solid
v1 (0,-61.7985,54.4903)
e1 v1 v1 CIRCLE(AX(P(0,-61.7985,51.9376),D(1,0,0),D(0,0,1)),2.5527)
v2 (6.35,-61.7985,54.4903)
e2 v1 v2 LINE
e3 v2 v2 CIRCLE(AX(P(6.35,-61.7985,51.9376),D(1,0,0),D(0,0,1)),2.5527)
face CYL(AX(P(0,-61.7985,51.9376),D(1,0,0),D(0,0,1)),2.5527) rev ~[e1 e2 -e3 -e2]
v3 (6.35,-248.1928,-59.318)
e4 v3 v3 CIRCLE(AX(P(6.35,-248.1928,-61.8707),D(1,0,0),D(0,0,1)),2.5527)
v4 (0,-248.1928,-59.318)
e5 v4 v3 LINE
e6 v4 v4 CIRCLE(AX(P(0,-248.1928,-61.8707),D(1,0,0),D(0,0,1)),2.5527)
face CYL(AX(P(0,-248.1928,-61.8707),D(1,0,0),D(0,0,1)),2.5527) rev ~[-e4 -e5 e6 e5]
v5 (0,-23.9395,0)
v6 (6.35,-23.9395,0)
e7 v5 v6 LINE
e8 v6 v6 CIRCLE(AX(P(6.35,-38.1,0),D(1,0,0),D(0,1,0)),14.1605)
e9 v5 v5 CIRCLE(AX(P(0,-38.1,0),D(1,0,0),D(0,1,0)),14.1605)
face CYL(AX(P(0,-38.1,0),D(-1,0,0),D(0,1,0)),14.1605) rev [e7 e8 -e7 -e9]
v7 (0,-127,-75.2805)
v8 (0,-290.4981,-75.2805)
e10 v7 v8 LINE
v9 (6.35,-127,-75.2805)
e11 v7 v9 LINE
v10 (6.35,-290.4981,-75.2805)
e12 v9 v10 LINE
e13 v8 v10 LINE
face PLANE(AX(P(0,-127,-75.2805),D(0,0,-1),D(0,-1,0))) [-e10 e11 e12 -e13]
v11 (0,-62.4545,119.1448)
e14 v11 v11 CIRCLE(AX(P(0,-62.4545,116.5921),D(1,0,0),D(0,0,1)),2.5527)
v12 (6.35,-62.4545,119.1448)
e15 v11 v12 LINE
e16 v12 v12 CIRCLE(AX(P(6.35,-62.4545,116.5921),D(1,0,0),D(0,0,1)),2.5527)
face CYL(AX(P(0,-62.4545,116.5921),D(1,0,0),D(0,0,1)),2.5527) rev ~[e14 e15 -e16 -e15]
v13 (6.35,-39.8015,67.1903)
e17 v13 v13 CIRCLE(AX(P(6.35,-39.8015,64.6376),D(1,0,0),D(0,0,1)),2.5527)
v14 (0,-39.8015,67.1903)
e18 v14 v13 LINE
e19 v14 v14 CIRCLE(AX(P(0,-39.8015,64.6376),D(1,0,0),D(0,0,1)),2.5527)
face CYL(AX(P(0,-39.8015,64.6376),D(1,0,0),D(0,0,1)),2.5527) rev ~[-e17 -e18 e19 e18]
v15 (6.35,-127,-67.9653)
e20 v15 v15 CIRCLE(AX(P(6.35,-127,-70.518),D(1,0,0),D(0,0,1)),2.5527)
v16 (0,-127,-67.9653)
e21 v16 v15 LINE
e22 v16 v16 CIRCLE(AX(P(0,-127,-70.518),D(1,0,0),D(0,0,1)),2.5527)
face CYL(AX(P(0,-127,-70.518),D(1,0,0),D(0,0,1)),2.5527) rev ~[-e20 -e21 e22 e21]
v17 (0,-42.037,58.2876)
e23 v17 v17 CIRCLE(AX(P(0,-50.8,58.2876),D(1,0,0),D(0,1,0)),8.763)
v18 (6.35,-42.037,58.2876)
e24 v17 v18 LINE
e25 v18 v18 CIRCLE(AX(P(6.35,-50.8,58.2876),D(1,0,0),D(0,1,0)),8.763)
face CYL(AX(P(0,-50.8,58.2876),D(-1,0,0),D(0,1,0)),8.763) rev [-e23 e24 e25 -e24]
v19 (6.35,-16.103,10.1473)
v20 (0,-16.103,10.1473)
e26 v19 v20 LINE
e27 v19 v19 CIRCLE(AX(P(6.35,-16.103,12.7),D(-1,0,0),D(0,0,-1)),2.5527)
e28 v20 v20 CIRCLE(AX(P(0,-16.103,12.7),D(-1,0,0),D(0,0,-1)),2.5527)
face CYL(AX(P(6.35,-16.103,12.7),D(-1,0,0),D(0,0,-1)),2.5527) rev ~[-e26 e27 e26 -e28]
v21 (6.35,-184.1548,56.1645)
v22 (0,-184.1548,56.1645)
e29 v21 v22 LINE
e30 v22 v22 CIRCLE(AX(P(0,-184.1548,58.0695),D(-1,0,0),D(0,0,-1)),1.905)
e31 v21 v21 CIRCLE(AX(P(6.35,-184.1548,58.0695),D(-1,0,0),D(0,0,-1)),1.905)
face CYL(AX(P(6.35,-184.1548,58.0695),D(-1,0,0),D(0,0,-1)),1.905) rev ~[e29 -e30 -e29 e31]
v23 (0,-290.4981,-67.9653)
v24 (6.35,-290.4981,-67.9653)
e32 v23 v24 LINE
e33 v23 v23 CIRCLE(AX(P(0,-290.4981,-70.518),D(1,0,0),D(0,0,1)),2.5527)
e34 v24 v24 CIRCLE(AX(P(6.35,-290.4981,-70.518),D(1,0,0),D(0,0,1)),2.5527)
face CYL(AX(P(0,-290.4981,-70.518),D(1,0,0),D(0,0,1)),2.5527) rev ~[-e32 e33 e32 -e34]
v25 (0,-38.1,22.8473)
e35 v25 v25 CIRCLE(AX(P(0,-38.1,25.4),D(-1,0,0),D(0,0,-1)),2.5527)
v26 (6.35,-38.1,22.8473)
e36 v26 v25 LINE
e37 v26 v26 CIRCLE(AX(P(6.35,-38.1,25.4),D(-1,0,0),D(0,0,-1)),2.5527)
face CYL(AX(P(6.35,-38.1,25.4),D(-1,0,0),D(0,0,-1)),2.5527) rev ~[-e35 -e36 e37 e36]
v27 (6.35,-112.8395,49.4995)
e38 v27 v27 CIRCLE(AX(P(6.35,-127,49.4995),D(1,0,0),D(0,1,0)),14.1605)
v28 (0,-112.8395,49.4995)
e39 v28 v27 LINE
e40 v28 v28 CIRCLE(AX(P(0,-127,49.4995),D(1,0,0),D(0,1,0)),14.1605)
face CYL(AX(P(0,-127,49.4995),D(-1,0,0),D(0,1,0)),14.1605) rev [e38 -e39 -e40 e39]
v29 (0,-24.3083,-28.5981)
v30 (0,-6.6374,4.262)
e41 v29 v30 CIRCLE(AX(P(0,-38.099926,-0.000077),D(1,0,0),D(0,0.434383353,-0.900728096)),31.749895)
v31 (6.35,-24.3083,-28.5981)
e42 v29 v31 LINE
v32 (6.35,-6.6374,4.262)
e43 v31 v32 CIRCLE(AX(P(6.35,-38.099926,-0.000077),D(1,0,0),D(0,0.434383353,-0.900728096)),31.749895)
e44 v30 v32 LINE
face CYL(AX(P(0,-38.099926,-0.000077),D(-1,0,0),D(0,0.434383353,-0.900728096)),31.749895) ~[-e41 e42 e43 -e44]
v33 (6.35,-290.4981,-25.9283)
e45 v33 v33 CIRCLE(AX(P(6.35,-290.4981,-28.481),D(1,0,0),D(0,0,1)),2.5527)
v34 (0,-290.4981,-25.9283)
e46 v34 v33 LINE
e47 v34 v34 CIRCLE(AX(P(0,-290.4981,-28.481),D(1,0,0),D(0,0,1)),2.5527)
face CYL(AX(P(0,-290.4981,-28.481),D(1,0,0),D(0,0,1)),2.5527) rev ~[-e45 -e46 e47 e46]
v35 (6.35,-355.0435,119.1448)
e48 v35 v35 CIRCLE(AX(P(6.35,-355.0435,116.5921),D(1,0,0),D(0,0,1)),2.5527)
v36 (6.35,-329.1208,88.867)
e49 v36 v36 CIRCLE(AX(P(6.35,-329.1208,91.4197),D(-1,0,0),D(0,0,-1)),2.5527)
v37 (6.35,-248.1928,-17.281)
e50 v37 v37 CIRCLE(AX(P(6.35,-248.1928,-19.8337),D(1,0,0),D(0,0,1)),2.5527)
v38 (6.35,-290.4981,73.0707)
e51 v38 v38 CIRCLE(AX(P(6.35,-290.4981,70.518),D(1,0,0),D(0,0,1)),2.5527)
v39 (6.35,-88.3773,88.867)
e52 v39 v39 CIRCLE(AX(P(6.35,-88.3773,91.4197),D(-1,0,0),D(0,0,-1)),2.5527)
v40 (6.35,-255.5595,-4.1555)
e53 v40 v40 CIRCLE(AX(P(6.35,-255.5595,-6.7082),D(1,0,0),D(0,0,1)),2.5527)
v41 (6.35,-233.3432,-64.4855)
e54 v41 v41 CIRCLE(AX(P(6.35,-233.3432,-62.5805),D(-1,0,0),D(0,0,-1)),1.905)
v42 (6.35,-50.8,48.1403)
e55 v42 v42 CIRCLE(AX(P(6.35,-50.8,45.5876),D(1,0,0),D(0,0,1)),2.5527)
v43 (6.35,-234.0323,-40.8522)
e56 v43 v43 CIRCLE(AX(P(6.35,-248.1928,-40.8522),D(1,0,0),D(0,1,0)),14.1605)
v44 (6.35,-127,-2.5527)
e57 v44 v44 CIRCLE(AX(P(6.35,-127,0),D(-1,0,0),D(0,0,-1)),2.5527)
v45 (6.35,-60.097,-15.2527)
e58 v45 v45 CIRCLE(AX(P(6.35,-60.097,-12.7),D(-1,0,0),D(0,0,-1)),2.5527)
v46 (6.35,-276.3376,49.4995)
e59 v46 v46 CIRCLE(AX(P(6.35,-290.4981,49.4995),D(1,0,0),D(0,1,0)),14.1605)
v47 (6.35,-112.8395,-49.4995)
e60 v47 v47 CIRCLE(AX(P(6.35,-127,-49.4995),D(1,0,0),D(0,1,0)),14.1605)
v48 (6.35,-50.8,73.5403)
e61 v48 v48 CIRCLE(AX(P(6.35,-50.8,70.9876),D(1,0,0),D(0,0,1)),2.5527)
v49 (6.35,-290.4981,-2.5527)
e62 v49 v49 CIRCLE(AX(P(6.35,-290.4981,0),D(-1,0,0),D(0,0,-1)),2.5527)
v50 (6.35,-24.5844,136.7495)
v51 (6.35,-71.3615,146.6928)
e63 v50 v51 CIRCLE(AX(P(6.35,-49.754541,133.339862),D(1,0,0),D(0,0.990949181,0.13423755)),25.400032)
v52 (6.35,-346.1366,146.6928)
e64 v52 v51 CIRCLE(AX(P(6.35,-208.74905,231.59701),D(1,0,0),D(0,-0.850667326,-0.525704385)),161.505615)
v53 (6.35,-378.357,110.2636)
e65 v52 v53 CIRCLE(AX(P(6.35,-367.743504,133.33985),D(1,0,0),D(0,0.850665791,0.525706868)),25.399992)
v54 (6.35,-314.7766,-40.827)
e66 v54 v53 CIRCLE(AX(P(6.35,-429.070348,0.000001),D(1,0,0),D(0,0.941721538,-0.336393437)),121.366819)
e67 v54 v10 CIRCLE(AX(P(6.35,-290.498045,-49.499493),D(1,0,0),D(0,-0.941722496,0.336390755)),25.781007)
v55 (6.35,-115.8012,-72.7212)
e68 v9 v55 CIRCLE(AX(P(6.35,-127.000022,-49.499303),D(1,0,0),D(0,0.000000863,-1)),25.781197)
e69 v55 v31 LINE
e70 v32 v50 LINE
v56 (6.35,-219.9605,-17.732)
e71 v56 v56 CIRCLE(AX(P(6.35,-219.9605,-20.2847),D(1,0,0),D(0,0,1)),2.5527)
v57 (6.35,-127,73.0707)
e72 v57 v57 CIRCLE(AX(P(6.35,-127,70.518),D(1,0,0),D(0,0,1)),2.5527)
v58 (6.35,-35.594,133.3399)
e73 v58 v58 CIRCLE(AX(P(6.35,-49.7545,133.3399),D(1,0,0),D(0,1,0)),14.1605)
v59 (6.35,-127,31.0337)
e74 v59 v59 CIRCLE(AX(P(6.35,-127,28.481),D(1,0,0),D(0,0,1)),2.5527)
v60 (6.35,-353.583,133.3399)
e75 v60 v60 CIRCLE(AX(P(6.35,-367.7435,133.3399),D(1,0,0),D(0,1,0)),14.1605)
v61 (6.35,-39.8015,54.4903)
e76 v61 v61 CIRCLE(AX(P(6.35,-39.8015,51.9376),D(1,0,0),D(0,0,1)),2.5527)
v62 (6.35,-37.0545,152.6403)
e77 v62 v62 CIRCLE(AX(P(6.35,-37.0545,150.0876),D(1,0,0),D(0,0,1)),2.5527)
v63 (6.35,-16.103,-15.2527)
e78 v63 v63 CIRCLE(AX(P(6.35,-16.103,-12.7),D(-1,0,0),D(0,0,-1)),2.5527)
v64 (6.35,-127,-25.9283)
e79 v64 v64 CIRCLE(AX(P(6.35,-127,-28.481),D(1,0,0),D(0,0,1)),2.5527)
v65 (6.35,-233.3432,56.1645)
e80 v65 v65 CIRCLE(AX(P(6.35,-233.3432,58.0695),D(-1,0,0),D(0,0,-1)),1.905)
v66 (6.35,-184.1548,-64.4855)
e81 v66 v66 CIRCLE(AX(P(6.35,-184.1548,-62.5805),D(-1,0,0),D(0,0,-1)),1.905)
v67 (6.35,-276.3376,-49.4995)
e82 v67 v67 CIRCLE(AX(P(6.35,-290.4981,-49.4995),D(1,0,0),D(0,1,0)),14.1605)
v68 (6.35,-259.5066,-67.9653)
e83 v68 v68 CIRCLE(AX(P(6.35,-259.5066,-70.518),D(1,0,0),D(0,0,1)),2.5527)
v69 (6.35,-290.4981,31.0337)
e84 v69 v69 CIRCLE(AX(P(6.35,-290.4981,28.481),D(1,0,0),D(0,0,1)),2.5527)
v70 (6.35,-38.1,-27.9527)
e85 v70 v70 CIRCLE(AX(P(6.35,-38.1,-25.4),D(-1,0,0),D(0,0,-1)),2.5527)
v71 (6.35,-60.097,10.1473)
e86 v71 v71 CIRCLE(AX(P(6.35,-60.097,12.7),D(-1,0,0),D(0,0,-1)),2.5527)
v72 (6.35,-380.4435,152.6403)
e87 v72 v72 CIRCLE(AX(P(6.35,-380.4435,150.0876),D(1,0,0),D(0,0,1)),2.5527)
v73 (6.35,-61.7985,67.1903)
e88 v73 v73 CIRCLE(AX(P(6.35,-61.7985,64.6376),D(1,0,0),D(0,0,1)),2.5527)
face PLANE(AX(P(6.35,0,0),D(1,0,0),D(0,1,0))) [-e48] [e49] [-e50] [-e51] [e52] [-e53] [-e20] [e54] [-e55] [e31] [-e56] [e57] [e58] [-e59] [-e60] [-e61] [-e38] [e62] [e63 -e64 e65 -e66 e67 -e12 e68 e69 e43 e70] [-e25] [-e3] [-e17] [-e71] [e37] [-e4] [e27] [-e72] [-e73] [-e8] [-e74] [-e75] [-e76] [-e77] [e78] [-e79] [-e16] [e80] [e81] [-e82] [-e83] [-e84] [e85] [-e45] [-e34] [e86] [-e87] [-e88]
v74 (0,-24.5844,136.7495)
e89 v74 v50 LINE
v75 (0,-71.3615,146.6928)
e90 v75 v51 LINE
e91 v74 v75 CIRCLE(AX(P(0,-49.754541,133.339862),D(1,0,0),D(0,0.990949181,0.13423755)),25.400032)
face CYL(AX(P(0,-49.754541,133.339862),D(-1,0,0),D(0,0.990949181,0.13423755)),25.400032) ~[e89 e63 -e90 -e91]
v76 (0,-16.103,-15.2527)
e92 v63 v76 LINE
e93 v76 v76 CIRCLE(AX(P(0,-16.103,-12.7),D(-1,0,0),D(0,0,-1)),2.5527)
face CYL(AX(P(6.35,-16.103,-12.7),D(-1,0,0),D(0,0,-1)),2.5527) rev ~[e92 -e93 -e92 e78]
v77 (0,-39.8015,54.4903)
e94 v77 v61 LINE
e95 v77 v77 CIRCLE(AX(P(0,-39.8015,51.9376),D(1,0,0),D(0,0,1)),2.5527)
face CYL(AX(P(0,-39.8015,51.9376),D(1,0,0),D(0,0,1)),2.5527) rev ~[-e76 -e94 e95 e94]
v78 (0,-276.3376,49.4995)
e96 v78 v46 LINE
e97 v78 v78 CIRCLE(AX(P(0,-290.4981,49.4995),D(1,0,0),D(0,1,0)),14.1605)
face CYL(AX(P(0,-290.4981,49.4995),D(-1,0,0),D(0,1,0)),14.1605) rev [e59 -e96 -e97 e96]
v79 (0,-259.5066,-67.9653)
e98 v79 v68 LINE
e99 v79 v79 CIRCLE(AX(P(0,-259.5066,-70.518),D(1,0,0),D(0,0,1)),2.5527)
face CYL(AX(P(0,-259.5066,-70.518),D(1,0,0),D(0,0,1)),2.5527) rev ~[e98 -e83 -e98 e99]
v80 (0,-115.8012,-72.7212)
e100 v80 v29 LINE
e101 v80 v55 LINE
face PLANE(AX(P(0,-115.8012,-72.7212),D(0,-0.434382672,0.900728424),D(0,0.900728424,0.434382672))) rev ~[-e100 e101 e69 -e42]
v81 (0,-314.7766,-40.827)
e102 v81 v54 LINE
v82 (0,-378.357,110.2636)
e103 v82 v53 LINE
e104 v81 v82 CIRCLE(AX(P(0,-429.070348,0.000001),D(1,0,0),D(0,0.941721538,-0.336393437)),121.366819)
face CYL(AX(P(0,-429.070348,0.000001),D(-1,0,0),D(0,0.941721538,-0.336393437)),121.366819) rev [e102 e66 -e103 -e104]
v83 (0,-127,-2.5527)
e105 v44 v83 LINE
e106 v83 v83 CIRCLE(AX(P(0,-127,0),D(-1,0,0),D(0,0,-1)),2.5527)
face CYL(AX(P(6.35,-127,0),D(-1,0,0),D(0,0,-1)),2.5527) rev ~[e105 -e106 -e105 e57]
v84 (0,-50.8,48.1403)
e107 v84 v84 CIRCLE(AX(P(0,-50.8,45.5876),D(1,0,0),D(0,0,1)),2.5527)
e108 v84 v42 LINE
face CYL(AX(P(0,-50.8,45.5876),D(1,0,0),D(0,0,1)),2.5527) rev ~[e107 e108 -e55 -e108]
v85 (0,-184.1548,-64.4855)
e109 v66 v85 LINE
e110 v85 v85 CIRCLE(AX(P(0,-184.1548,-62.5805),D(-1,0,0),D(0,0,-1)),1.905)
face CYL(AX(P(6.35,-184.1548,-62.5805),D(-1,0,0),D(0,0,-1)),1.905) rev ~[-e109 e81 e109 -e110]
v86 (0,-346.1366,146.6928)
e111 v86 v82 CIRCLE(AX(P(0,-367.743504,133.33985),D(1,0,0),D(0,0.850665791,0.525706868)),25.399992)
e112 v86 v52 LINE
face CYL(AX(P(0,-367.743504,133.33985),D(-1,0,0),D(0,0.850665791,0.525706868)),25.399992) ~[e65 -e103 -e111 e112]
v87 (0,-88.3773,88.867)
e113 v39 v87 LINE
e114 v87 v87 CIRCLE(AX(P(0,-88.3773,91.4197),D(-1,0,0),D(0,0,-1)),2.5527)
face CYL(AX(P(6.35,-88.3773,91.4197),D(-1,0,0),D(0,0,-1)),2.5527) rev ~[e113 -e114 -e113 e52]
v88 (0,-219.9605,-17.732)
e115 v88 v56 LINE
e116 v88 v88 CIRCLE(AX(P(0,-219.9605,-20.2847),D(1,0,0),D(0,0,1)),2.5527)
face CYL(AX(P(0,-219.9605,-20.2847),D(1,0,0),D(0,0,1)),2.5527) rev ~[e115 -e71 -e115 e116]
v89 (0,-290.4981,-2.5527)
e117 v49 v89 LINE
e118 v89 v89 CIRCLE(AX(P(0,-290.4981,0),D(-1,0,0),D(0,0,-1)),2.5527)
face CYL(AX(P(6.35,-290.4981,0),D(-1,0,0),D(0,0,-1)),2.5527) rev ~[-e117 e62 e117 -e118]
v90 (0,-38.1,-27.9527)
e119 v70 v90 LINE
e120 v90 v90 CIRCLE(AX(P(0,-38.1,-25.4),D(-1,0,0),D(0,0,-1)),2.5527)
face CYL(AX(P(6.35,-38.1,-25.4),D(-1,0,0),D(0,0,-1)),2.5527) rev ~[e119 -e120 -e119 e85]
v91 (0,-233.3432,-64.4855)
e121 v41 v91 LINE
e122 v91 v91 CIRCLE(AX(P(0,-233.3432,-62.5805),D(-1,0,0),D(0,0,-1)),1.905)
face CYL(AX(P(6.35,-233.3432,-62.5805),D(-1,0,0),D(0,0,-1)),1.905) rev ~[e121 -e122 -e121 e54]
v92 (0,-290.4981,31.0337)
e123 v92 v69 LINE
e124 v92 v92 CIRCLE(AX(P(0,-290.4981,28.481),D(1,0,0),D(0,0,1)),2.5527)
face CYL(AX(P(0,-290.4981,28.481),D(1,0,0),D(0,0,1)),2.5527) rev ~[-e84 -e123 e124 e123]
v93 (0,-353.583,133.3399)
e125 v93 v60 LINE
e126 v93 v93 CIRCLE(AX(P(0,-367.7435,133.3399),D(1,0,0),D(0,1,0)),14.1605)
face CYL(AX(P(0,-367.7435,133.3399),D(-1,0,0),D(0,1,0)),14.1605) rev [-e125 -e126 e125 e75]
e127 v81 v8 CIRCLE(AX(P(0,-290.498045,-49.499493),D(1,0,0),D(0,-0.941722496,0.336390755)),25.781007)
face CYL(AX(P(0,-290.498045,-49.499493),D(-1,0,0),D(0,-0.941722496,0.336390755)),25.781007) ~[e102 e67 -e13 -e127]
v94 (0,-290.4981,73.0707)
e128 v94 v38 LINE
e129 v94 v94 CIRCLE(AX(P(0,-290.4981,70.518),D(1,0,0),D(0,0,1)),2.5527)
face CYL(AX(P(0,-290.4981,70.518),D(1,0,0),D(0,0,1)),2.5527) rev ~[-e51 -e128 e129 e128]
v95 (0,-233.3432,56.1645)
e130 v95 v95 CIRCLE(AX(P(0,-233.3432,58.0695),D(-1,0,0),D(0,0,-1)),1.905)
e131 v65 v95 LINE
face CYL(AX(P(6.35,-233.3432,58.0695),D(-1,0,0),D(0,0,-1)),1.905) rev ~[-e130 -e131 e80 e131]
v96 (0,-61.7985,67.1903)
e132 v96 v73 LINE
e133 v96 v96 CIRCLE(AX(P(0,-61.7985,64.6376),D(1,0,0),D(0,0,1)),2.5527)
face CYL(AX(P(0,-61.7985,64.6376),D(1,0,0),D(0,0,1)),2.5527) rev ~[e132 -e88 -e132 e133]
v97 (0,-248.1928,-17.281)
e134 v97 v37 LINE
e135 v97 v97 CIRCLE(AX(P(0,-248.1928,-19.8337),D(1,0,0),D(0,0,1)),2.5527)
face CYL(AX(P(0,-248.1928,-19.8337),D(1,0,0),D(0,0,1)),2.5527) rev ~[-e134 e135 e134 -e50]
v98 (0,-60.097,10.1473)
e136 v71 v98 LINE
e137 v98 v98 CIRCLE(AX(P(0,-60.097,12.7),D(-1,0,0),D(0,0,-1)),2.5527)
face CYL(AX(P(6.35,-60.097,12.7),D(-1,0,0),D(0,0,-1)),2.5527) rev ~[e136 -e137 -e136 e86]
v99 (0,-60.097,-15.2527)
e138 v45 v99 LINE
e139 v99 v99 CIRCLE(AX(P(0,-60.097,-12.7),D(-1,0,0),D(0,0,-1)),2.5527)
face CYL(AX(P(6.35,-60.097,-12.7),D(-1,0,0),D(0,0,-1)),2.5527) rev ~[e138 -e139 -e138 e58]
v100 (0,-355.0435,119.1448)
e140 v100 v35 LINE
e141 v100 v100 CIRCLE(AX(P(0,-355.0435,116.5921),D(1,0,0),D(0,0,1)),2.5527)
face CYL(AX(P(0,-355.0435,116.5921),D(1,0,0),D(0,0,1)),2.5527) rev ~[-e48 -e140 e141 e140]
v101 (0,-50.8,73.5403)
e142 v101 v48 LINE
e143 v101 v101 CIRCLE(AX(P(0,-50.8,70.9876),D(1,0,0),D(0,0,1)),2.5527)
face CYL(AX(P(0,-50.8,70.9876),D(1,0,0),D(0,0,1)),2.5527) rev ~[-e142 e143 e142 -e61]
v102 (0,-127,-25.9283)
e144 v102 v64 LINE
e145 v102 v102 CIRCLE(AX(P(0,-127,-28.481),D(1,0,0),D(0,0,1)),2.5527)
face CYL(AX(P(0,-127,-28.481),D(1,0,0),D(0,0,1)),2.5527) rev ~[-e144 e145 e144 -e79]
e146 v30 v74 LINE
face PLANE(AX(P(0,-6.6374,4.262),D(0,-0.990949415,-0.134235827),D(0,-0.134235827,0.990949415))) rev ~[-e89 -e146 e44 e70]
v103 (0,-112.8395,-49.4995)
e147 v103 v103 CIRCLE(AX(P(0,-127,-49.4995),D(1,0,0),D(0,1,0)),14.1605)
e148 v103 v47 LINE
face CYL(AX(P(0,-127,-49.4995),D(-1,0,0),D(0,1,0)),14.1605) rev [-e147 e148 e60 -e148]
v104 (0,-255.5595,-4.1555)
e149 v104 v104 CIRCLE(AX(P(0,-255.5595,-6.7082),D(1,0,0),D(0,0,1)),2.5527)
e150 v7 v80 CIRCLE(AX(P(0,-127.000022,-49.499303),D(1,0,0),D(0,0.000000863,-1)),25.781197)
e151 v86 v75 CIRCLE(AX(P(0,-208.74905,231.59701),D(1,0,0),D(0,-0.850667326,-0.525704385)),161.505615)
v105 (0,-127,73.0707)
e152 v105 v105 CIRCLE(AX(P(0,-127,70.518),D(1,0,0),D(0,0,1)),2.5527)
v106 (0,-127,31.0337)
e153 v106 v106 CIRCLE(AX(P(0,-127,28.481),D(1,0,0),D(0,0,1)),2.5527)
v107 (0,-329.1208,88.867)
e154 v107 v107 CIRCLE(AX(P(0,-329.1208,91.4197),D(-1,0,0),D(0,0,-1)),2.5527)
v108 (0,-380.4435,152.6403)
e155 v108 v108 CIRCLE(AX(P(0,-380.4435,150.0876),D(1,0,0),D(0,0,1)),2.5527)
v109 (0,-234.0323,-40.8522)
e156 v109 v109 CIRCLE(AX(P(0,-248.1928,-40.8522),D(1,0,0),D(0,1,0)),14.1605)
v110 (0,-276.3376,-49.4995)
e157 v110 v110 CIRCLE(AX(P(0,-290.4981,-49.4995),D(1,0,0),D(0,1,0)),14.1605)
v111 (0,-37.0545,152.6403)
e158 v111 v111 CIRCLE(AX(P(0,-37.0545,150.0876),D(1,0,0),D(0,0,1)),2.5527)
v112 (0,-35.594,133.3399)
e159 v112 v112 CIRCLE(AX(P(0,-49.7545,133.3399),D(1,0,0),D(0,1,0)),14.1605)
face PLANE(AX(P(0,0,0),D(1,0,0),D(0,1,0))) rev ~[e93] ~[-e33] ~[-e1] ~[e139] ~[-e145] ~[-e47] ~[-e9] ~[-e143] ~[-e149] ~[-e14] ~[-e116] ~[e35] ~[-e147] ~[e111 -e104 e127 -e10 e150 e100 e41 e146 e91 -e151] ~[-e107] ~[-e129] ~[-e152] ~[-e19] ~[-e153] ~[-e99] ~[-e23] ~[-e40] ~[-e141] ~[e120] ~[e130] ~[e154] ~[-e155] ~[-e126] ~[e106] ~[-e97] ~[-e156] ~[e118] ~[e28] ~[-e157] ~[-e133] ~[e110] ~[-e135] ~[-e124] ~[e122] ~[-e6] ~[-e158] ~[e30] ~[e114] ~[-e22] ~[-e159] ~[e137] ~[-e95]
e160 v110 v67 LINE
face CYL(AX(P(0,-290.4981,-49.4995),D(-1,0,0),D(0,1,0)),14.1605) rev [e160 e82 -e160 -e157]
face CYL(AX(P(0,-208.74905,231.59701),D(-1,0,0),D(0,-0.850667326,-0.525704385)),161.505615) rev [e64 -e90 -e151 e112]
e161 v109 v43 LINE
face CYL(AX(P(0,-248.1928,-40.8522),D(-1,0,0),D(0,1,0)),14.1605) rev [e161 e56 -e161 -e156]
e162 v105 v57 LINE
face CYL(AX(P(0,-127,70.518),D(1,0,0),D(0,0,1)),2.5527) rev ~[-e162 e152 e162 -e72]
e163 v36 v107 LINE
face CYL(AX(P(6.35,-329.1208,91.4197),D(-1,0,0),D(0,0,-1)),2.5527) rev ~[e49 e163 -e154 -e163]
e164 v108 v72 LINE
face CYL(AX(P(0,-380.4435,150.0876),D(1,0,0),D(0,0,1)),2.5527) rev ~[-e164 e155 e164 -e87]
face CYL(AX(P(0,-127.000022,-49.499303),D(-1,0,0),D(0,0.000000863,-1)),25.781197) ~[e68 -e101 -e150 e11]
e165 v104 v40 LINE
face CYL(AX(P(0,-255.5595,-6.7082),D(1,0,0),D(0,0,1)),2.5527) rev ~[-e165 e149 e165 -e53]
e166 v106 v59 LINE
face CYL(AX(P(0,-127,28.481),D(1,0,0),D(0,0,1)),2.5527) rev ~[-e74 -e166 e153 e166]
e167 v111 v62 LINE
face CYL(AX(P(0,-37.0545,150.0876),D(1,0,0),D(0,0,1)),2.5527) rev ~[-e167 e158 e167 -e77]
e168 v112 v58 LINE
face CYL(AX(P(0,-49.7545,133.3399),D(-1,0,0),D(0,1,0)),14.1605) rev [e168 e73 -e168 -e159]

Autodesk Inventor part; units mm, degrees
ref_plane "YZ Plane" through (0, 0, 0) normal (1, 0, 0) x (0, 1, 0)
ref_plane "XZ Plane" through (0, 0, 0) normal (0, 1, 0) x (-1, 0, 0)
ref_plane "XY Plane" through (0, 0, 0) normal (0, 0, 1) x (1, 0, 0)
sketch "Sketch1" plane through (0, 0, 0) normal (1, 0, 0) x (0, 1, 0)
  line L0 (-12.7, 25.4) -> (12.7, 25.4) construction
  line L1 (12.7, 25.4) -> (12.7, -25.4) construction
  line L2 (12.7, -25.4) -> (-12.7, -25.4) construction
  line L3 (-12.7, -25.4) -> (-12.7, 25.4) construction
  line L4 (-12.7, 25.4) -> (12.7, -25.4) construction
  line L5 (12.7, 25.4) -> (-12.7, -25.4) construction
  circle A0 centre (-127, -49.4995) radius 38.1 construction
  circle A1 centre (-290.4981, -49.4995) radius 38.1 construction
  circle A2 centre (-127, 49.4995) radius 38.1 construction
  circle A3 centre (-290.4981, 49.4995) radius 38.1 construction
  line L6 (-127, -49.4995) -> (-127, 49.4995) construction
  line L7 (-290.4981, -49.4995) -> (-290.4981, 49.4995) construction
  line L8 (-161.925, -152.4) -> (-255.5731, -152.4) construction
  line L9 (-255.5731, -152.4) -> (-255.5731, 152.4) construction
  line L10 (-255.5731, 152.4) -> (-161.925, 152.4) construction
  line L11 (-161.925, 152.4) -> (-161.925, -152.4) construction
  line L12 (-161.925, -152.4) -> (-255.5731, 152.4) construction
  line L13 (-255.5731, -152.4) -> (-161.925, 152.4) construction
  circle A4 centre (-127, -49.4995) radius 34.925 construction
  circle A5 centre (-290.4981, -49.4995) radius 34.925 construction
  circle A6 centre (-208.749, 279.4) radius 190.5 construction
  circle A7 centre (-49.7545, 133.3399) radius 25.4 construction
  circle A8 centre (-367.7435, 133.3399) radius 25.4 construction
  circle A9 centre (-653.2508, -157.862) radius 53.975 construction
  line L14 (-596.1008, -277.7111) -> (-621.5008, -277.7111) construction
  line L15 (-621.5008, -277.7111) -> (-621.5008, -201.5111) construction
  line L16 (-621.5008, -201.5111) -> (-596.1008, -201.5111) construction
  line L17 (-596.1008, -201.5111) -> (-596.1008, -277.7111) construction
  line L18 (-596.1008, -277.7111) -> (-621.5008, -201.5111) construction
  line L19 (-621.5008, -277.7111) -> (-596.1008, -201.5111) construction
  line L20 (-685.0008, -277.7111) -> (-710.4008, -277.7111) construction
  line L21 (-710.4008, -277.7111) -> (-710.4008, -201.5111) construction
  line L22 (-710.4008, -201.5111) -> (-685.0008, -201.5111) construction
  line L23 (-685.0008, -201.5111) -> (-685.0008, -277.7111) construction
  line L24 (-685.0008, -277.7111) -> (-710.4008, -201.5111) construction
  line L25 (-710.4008, -277.7111) -> (-685.0008, -201.5111) construction
  line L26 (-498.4346, -157.862) -> (-808.067, -157.862) construction
  point P0 (0, 0)
  point P1 (-127, 0)
  point P2 (-290.4981, 0)
  point P3 (-208.749, 0)
  point P4 (-608.8008, -239.6111)
  point P5 (-697.7008, -239.6111)
  dimension "d0" = 25.4
  dimension "d1" = 50.8
  dimension "d2" = 76.2
  dimension "d4" = 98.999
  dimension "d5" = 93.6481
  dimension "d6" = 304.8
  dimension "d7" = 3.175
  dimension "d8" = 3.175
  dimension "d9" = 127
  dimension "d10" = 381
  dimension "d11" = 50.8
  dimension "d12" = 50.8
  dimension "d13" = 114.0003
  dimension "d14" = 279.4
  dimension "d35" = 49.4995
  dimension "d68" = 107.95
  dimension "d69" = 25.4
  dimension "d70" = 76.2
  dimension "d71" = 63.5
  dimension "d72" = 81.749
  dimension "d73" = 163.4981
sketch "Sketch2" plane through (0, 0, 0) normal (1, 0, 0) x (0, 1, 0)
  circle A0 centre (-127, -49.4995) radius 38.1 construction
  circle A1 centre (-127, 49.4995) radius 38.1 construction
  circle A2 centre (-127, -49.4995) radius 34.925 construction
  line L0 (-255.5731, 152.4) -> (-161.925, 152.4) construction
  line L1 (-161.925, -152.4) -> (-255.5731, -152.4) construction
  line L2 (-161.925, 152.4) -> (-161.925, -152.4) construction
  line L3 (-255.5731, -152.4) -> (-161.925, 152.4) construction
  line L4 (-161.925, -152.4) -> (-255.5731, 152.4) construction
  line L5 (-255.5731, -152.4) -> (-255.5731, 152.4) construction
  circle A3 centre (-290.4981, 49.4995) radius 38.1 construction
  circle A4 centre (-290.4981, -49.4995) radius 34.925 construction
  circle A5 centre (-290.4981, -49.4995) radius 38.1 construction
  line L6 (-290.4981, -49.4995) -> (-290.4981, 49.4995) construction
  line L7 (-127, -49.4995) -> (-127, 49.4995) construction
  line L8 (-12.7, -25.4) -> (-12.7, 25.4) construction
  line L9 (12.7, 25.4) -> (12.7, -25.4) construction
  line L10 (12.7, -25.4) -> (-12.7, -25.4) construction
  line L11 (-12.7, 25.4) -> (12.7, -25.4) construction
  line L12 (12.7, 25.4) -> (-12.7, -25.4) construction
  line L13 (-12.7, 25.4) -> (12.7, 25.4) construction
  circle A6 centre (-208.749, 279.4) radius 190.5 construction
  circle A7 centre (-49.7545, 133.3399) radius 25.4 construction
  circle A8 centre (-367.7435, 133.3399) radius 25.4 construction
  circle A9 centre (-127, -49.4995) radius 14.1605
  circle A10 centre (-290.4981, -49.4995) radius 14.1605
  circle A11 centre (-290.4981, 49.4995) radius 14.1605
  circle A12 centre (-127, 49.4995) radius 14.1605
  circle A13 centre (-367.7435, 133.3399) radius 14.1605
  circle A14 centre (-49.7545, 133.3399) radius 14.1605
  circle A15 centre (-38.1, 0) radius 14.1605
  circle A16 centre (-38.1, 0) radius 39.3065 construction
  circle A17 centre (-38.1, 0) radius 25.4 construction
  circle A18 centre (-38.1, 0) radius 31.75 construction
  circle A19 centre (-127, -49.4995) radius 25.781 construction
  line L14 (-127, -70.518) -> (-127, -28.481) construction
  circle A20 centre (-127, -70.518) radius 4.7625 construction
  circle A21 centre (-290.4981, -49.4995) radius 25.781 construction
  circle A22 centre (-290.4981, 49.4995) radius 25.781 construction
  circle A23 centre (-127, 49.4995) radius 25.781 construction
  line L15 (-127, -75.2805) -> (-290.4981, -75.2805)
  arc A24 (-314.7766, -40.827) -> (-378.357, 110.2636) centre (-429.0704, 0) ccw
  line L16 (-115.8012, -72.7212) -> (-24.3083, -28.5981)
  line L17 (-6.6374, 4.262) -> (-24.5844, 136.7495)
  arc A25 (-346.1366, 146.6928) -> (-71.3615, 146.6928) centre (-208.749, 231.5971) ccw
  arc A26 (-24.5844, 136.7495) -> (-71.3615, 146.6928) centre (-49.7545, 133.3399) ccw
  arc A27 (-346.1366, 146.6928) -> (-378.357, 110.2636) centre (-367.7435, 133.3399) ccw
  arc A28 (-314.7766, -40.827) -> (-290.4981, -75.2805) centre (-290.4981, -49.4995) ccw
  arc A29 (-127, -75.2805) -> (-115.8012, -72.7212) centre (-127, -49.4995) ccw
  arc A30 (-24.3083, -28.5981) -> (-6.6374, 4.262) centre (-38.1, 0) ccw
  circle A31 centre (-50.8, 58.2876) radius 19.05 construction
  circle A32 centre (-50.8, 58.2876) radius 12.7 construction
  circle A33 centre (-50.8, 58.2876) radius 8.763
  line L18 (-290.4981, 28.481) -> (-290.4981, 70.518) construction
  line L19 (-290.4981, -70.518) -> (-290.4981, -28.481) construction
  line L20 (-62.4545, 116.5921) -> (-37.0545, 150.0876) construction
  line L21 (-355.0435, 116.5921) -> (-380.4435, 150.0876) construction
  line L22 (-127, 28.481) -> (-127, 70.518) construction
  circle A34 centre (-248.1928, -40.8522) radius 14.1605
  circle A35 centre (-248.1928, -40.8522) radius 21.59 construction
  circle A36 centre (-290.4981, -49.4995) radius 21.59 construction
  line L23 (-248.1928, -61.8707) -> (-248.1928, -19.8337) construction
  point P0 (0, 0)
  point P1 (-127, 0)
  point P2 (-208.749, 0)
  point P3 (-290.4981, 0)
  point P4 (0, 0)
  point P5 (-38.1, 25.4)
  point P6 (-395.5081, 116.5261)
  point P7 (-50.8, 45.5876)
  point P8 (-39.8015, 51.9376)
  point P9 (-39.8015, 64.6376)
  point P10 (-50.8, 70.9876)
  point P11 (-61.7985, 64.6376)
  point P12 (-61.7985, 51.9376)
  dimension "d18" = 50.8
  dimension "d32" = 9.525
  dimension "d37" = 25.4
  dimension "d15" = 28.321
  dimension "d16" = 38.1
  dimension "d17" = 78.613
  dimension "d19" = 6.35
  dimension "d31" = 42.037
  dimension "d36" = 38.1
  dimension "d38" = 17.526
  dimension "d50" = 12.7
  dimension "d51" = 12.7
  dimension "d61" = 360
  dimension "d63" = 75.0595
  dimension "d64" = 76.2
  dimension "d74" = 121.5009
  dimension "d75" = 43.18
extrude "Extrusion1" add sketch "Sketch2" along normal blind 6.35
hole "Hole1" at (0, -127, -49.4995) at (0, -127, 49.4995) at (0, -161.925, 152.4) at (0, -161.925, -152.4) at (0, -255.5731, 152.4) at (0, -290.4981, 49.4995) at (0, -290.4981, -49.4995) at (0, -255.5731, -152.4) at (0, -127, -70.518) at (0, -127, -28.481) at (0, -50.8, 45.5876) at (0, -290.4981, 28.481) at (0, -290.4981, 70.518) at (0, -290.4981, -70.518) at (0, -290.4981, -28.481) at (0, -62.4545, 116.5921) at (0, -37.0545, 150.0876) at (0, -355.0435, 116.5921) at (0, -380.4435, 150.0876) at (0, -127, 28.481) at (0, -127, 70.518) at (0, -61.7985, 51.9376) at (0, -61.7985, 64.6376) at (0, -50.8, 70.9876) at (0, -39.8015, 64.6376) at (0, -39.8015, 51.9376) at (0, -248.1928, -61.8707) at (0, -248.1928, -19.8337) direction (1, 0, 0) diameter 5.1054 end through all clearance for "Flat Head Machine Screw (82)" size "#10" standard "Ansi Unified Screw Threads"
sketch "Sketch3" plane through (6.35, 0, 0) normal (1, 0, 0) x (0, 0, -1)
  circle A0 centre (0, -38.1) radius 14.1605 construction
  circle A1 centre (0, -38.1) radius 25.4 construction
  point P0 (0, 0)
  point P1 (25.4, -38.1)
  point P2 (12.7, -16.103)
  point P3 (-12.7, -16.103)
  point P4 (-25.4, -38.1)
  point P5 (-12.7, -60.097)
  point P6 (12.7, -60.097)
  dimension "d77" = 50.8
  dimension "d80" = 360
hole "Hole2" at (6.35, -38.1, -25.4) at (6.35, -16.103, -12.7) at (6.35, -16.103, 12.7) at (6.35, -38.1, 25.4) at (6.35, -60.097, 12.7) at (6.35, -60.097, -12.7) direction (-1, 0, 0) diameter 5.1054 end through all clearance for "Flat Head Machine Screw (82)" size "#10" standard "Ansi Unified Screw Threads"
sketch "Sketch4" plane through (6.35, 0, 0) normal (1, 0, 0) x (0, 0, -1)
  circle A0 centre (-12.7, -60.097) radius 2.5527 projected
  circle A1 centre (-12.7, -16.103) radius 2.5527 projected
  circle A2 centre (25.4, -38.1) radius 2.5527 projected
  circle A3 centre (12.7, -16.103) radius 2.5527 projected
  circle A4 centre (-25.4, -38.1) radius 2.5527 projected
  circle A5 centre (12.7, -60.097) radius 2.5527 projected
  circle A6 centre (61.8707, -248.1928) radius 2.5527 projected
  circle A7 centre (-64.6376, -39.8015) radius 2.5527 projected
  circle A8 centre (-64.6376, -61.7985) radius 2.5527 projected
  circle A9 centre (-70.518, -127) radius 2.5527 projected
  circle A10 centre (-150.0876, -380.4435) radius 2.5527 projected
  circle A11 centre (-150.0876, -37.0545) radius 2.5527 projected
  circle A12 centre (28.481, -290.4981) radius 2.5527 projected
  circle A13 centre (-70.518, -290.4981) radius 2.5527 projected
  circle A14 centre (-45.5876, -50.8) radius 2.5527 projected
  circle A15 centre (70.518, -127) radius 2.5527 projected
  circle A16 centre (28.481, -127) radius 2.5527 projected
  circle A17 centre (-28.481, -290.4981) radius 2.5527 projected
  circle A18 centre (70.518, -290.4981) radius 2.5527 projected
  circle A19 centre (-116.5921, -62.4545) radius 2.5527 projected
  circle A20 centre (-116.5921, -355.0435) radius 2.5527 projected
  circle A21 centre (-28.481, -127) radius 2.5527 projected
  circle A22 centre (-51.9376, -61.7985) radius 2.5527 projected
  circle A23 centre (-70.9876, -50.8) radius 2.5527 projected
  circle A24 centre (-51.9376, -39.8015) radius 2.5527 projected
  circle A25 centre (19.8337, -248.1928) radius 2.5527 projected
  arc A26 (28.5981, -24.3083) -> (-4.262, -6.6374) centre (0, -38.1) ccw projected
  line L0 (-4.262, -6.6374) -> (-136.7495, -24.5844) projected
  arc A27 (-136.7495, -24.5844) -> (-146.6928, -71.3615) centre (-133.3399, -49.7545) ccw projected
  arc A28 (-146.6928, -346.1366) -> (-146.6928, -71.3615) centre (-231.5971, -208.749) ccw projected
  arc A29 (-146.6928, -346.1366) -> (-110.2636, -378.357) centre (-133.3399, -367.7435) ccw projected
  arc A30 (40.827, -314.7766) -> (-110.2636, -378.357) centre (0, -429.0704) ccw projected
  arc A31 (40.827, -314.7766) -> (75.2805, -290.4981) centre (49.4995, -290.4981) ccw projected
  line L1 (75.2805, -290.4981) -> (75.2805, -127) projected
  arc A32 (75.2805, -127) -> (72.7212, -115.8012) centre (49.4995, -127) ccw projected
  line L2 (72.7212, -115.8012) -> (28.5981, -24.3083) projected
  circle A33 centre (-49.4995, -290.4981) radius 14.1605 projected
  circle A34 centre (-49.4995, -127) radius 14.1605 projected
  circle A35 centre (-58.2876, -50.8) radius 8.763 projected
  circle A36 centre (40.8522, -248.1928) radius 14.1605 projected
  circle A37 centre (0, -38.1) radius 14.1605 projected
  circle A38 centre (-133.3399, -49.7545) radius 14.1605 projected
  circle A39 centre (-133.3399, -367.7435) radius 14.1605 projected
  circle A40 centre (49.4995, -290.4981) radius 14.1605 projected
  circle A41 centre (49.4995, -127) radius 14.1605 projected
  circle A42 centre (-49.4995, -290.4981) radius 14.1605 projected
  line L3 (-133.3399, -367.7435) -> (-49.4995, -290.4981) construction
  line L4 (-133.3399, -49.7545) -> (-49.4995, -127) construction
  line L5 (-49.4995, -127) -> (49.4995, -127) construction
  line L6 (-49.4995, -290.4981) -> (49.4995, -290.4981) construction
  point P0 (0, 0)
  point P1 (-91.4197, -88.3773)
  point P2 (0, -127)
  point P3 (0, -290.4981)
  point P4 (-91.4197, -329.1208)
hole "Hole3" at (6.35, -88.3773, 91.4197) at (6.35, -127, 0) at (6.35, -290.4981, 0) at (6.35, -329.1208, 91.4197) direction (-1, 0, 0) diameter 5.1054 end through all clearance for "Flat Head Machine Screw (82)" size "#10" standard "Ansi Unified Screw Threads"
sketch "Sketch5" plane through (0, 0, 0) normal (-1, 0, 0) x (0, 0, 1)
  line L0 (-20.2847, -219.9605) -> (-70.518, -259.5066) construction
  line L1 (-70.518, -259.5066) -> (-6.7082, -255.5595) construction
  line L2 (-6.7082, -255.5595) -> (-20.2847, -219.9605) construction
  circle A0 centre (-40.8522, -248.1928) radius 14.1605 construction
  circle A1 centre (-49.4995, -127) radius 14.1605 construction
  line L3 (-40.8522, -248.1928) -> (-49.4995, -127) construction
  line L4 (-28.6658, -247.3233) -> (-37.3131, -126.1305) construction
  line L5 (-61.6859, -127.8695) -> (-53.0386, -249.0623) construction
  arc A2 (-53.0386, -249.0623) -> (-28.6658, -247.3233) centre (-40.8522, -248.1928) ccw construction
  arc A3 (-37.3131, -126.1305) -> (-61.6859, -127.8695) centre (-49.4995, -127) ccw construction
  line L6 (-70.518, -259.5066) -> (-13.4965, -237.76) construction
  line L7 (-75.2805, -290.4981) -> (-75.2805, -127) construction
  circle A4 centre (-70.518, -259.5066) radius 4.7625 construction
  circle A5 centre (-20.2847, -219.9605) radius 4.7625 construction
  circle A6 centre (-6.7082, -255.5595) radius 4.7625 construction
  point P0 (0, 0)
  point P1 (-45.1759, -187.5964)
  dimension "d97" = 38.1
  dimension "d98" = 63.9318
  dimension "d99" = 63.9318
  dimension "d101" = 12.2174
  dimension "d102" = 31.75
  dimension "d111" = 9.525
  dimension "d112" = 9.525
  dimension "d113" = 9.525
hole "Hole4" at (0, -248.1928, -40.8522) at (0, -259.5066, -70.518) at (0, -219.9605, -20.2847) at (0, -255.5595, -6.7082) direction (1, 0, 0) diameter 5.1054 end through all clearance for "Flat Head Machine Screw (82)" size "#10" standard "Ansi Unified Screw Threads"
sketch "Sketch6" plane through (6.35, 0, 0) normal (1, 0, 0) x (0, 0, -1)
  line L0 (62.5805, -184.1548) -> (62.5805, -233.3432) construction
  line L1 (75.2805, -290.4981) -> (75.2805, -127) construction
  circle A0 centre (20.2847, -219.9605) radius 2.5527 construction
  circle A1 centre (70.518, -259.5066) radius 2.5527 construction
  circle A2 centre (6.7082, -255.5595) radius 2.5527 construction
  circle A3 centre (0, -290.4981) radius 2.5527 construction
  circle A4 centre (-91.4197, -88.3773) radius 2.5527 construction
  circle A5 centre (0, -127) radius 2.5527 construction
  circle A6 centre (-91.4197, -329.1208) radius 2.5527 construction
  circle A7 centre (-12.7, -60.097) radius 2.5527 construction
  circle A8 centre (-12.7, -16.103) radius 2.5527 construction
  circle A9 centre (25.4, -38.1) radius 2.5527 construction
  circle A10 centre (12.7, -16.103) radius 2.5527 construction
  circle A11 centre (-25.4, -38.1) radius 2.5527 construction
  circle A12 centre (12.7, -60.097) radius 2.5527 construction
  circle A13 centre (61.8707, -248.1928) radius 2.5527 construction
  circle A14 centre (-64.6376, -39.8015) radius 2.5527 construction
  circle A15 centre (-64.6376, -61.7985) radius 2.5527 construction
  circle A16 centre (-70.518, -127) radius 2.5527 construction
  circle A17 centre (-150.0876, -380.4435) radius 2.5527 construction
  circle A18 centre (-150.0876, -37.0545) radius 2.5527 construction
  circle A19 centre (28.481, -290.4981) radius 2.5527 construction
  circle A20 centre (-70.518, -290.4981) radius 2.5527 construction
  circle A21 centre (-45.5876, -50.8) radius 2.5527 construction
  circle A22 centre (70.518, -127) radius 2.5527 construction
  circle A23 centre (28.481, -127) radius 2.5527 construction
  circle A24 centre (-28.481, -290.4981) radius 2.5527 construction
  circle A25 centre (70.518, -290.4981) radius 2.5527 construction
  circle A26 centre (-116.5921, -62.4545) radius 2.5527 construction
  circle A27 centre (-116.5921, -355.0435) radius 2.5527 construction
  circle A28 centre (-28.481, -127) radius 2.5527 construction
  circle A29 centre (-51.9376, -61.7985) radius 2.5527 construction
  circle A30 centre (-70.9876, -50.8) radius 2.5527 construction
  circle A31 centre (-51.9376, -39.8015) radius 2.5527 construction
  circle A32 centre (19.8337, -248.1928) radius 2.5527 construction
  circle A33 centre (49.4995, -127) radius 14.1605 construction
  circle A34 centre (49.4995, -290.4981) radius 14.1605 construction
  circle A35 centre (-133.3399, -367.7435) radius 14.1605 construction
  circle A36 centre (-133.3399, -49.7545) radius 14.1605 construction
  circle A37 centre (0, -38.1) radius 14.1605 construction
  circle A38 centre (40.8522, -248.1928) radius 14.1605 construction
  circle A39 centre (-58.2876, -50.8) radius 8.763 construction
  circle A40 centre (-49.4995, -127) radius 14.1605 construction
  circle A41 centre (-49.4995, -290.4981) radius 14.1605 construction
  line L2 (28.5981, -24.3083) -> (72.7212, -115.8012) construction
  arc A42 (75.2805, -127) -> (72.7212, -115.8012) centre (49.4995, -127) ccw construction
  line L3 (75.2805, -127) -> (75.2805, -290.4981) construction
  arc A43 (40.827, -314.7766) -> (75.2805, -290.4981) centre (49.4995, -290.4981) ccw construction
  arc A44 (40.827, -314.7766) -> (-110.2636, -378.357) centre (0, -429.0704) ccw construction
  arc A45 (-146.6928, -346.1366) -> (-110.2636, -378.357) centre (-133.3399, -367.7435) ccw construction
  arc A46 (-146.6928, -346.1366) -> (-146.6928, -71.3615) centre (-231.5971, -208.749) ccw construction
  arc A47 (-136.7495, -24.5844) -> (-146.6928, -71.3615) centre (-133.3399, -49.7545) ccw construction
  line L4 (-136.7495, -24.5844) -> (-4.262, -6.6374) construction
  arc A48 (28.5981, -24.3083) -> (-4.262, -6.6374) centre (0, -38.1) ccw construction
  line L5 (49.4995, -127) -> (49.4995, -290.4981) construction
  line L6 (-58.0695, -184.1548) -> (-58.0695, -233.3432) construction
  point P0 (0, 0)
  point P1 (49.4995, -208.749)
  point P2 (62.5805, -208.749)
  point P3 (-58.0695, -208.749)
  dimension "d114" = 49.1884
  dimension "d115" = 12.7
  dimension "d116" = 49.1884
  dimension "d117" = 120.65
hole "Hole5" at (6.35, -184.1548, 58.0695) at (6.35, -233.3432, 58.0695) at (6.35, -233.3432, -62.5805) at (6.35, -184.1548, -62.5805) direction (-1, 0, 0) diameter 3.81 end through all clearance for "Flat Head Machine Screw (82)" size "#6" standard "Ansi Unified Screw Threads"
equation "\"d73\" = 2 * d72"
equation "\"d51\" = d50"
equation "\"d99\" = d98"
properties part number "GP5-099" material "Polycarbonate, Smoke"
